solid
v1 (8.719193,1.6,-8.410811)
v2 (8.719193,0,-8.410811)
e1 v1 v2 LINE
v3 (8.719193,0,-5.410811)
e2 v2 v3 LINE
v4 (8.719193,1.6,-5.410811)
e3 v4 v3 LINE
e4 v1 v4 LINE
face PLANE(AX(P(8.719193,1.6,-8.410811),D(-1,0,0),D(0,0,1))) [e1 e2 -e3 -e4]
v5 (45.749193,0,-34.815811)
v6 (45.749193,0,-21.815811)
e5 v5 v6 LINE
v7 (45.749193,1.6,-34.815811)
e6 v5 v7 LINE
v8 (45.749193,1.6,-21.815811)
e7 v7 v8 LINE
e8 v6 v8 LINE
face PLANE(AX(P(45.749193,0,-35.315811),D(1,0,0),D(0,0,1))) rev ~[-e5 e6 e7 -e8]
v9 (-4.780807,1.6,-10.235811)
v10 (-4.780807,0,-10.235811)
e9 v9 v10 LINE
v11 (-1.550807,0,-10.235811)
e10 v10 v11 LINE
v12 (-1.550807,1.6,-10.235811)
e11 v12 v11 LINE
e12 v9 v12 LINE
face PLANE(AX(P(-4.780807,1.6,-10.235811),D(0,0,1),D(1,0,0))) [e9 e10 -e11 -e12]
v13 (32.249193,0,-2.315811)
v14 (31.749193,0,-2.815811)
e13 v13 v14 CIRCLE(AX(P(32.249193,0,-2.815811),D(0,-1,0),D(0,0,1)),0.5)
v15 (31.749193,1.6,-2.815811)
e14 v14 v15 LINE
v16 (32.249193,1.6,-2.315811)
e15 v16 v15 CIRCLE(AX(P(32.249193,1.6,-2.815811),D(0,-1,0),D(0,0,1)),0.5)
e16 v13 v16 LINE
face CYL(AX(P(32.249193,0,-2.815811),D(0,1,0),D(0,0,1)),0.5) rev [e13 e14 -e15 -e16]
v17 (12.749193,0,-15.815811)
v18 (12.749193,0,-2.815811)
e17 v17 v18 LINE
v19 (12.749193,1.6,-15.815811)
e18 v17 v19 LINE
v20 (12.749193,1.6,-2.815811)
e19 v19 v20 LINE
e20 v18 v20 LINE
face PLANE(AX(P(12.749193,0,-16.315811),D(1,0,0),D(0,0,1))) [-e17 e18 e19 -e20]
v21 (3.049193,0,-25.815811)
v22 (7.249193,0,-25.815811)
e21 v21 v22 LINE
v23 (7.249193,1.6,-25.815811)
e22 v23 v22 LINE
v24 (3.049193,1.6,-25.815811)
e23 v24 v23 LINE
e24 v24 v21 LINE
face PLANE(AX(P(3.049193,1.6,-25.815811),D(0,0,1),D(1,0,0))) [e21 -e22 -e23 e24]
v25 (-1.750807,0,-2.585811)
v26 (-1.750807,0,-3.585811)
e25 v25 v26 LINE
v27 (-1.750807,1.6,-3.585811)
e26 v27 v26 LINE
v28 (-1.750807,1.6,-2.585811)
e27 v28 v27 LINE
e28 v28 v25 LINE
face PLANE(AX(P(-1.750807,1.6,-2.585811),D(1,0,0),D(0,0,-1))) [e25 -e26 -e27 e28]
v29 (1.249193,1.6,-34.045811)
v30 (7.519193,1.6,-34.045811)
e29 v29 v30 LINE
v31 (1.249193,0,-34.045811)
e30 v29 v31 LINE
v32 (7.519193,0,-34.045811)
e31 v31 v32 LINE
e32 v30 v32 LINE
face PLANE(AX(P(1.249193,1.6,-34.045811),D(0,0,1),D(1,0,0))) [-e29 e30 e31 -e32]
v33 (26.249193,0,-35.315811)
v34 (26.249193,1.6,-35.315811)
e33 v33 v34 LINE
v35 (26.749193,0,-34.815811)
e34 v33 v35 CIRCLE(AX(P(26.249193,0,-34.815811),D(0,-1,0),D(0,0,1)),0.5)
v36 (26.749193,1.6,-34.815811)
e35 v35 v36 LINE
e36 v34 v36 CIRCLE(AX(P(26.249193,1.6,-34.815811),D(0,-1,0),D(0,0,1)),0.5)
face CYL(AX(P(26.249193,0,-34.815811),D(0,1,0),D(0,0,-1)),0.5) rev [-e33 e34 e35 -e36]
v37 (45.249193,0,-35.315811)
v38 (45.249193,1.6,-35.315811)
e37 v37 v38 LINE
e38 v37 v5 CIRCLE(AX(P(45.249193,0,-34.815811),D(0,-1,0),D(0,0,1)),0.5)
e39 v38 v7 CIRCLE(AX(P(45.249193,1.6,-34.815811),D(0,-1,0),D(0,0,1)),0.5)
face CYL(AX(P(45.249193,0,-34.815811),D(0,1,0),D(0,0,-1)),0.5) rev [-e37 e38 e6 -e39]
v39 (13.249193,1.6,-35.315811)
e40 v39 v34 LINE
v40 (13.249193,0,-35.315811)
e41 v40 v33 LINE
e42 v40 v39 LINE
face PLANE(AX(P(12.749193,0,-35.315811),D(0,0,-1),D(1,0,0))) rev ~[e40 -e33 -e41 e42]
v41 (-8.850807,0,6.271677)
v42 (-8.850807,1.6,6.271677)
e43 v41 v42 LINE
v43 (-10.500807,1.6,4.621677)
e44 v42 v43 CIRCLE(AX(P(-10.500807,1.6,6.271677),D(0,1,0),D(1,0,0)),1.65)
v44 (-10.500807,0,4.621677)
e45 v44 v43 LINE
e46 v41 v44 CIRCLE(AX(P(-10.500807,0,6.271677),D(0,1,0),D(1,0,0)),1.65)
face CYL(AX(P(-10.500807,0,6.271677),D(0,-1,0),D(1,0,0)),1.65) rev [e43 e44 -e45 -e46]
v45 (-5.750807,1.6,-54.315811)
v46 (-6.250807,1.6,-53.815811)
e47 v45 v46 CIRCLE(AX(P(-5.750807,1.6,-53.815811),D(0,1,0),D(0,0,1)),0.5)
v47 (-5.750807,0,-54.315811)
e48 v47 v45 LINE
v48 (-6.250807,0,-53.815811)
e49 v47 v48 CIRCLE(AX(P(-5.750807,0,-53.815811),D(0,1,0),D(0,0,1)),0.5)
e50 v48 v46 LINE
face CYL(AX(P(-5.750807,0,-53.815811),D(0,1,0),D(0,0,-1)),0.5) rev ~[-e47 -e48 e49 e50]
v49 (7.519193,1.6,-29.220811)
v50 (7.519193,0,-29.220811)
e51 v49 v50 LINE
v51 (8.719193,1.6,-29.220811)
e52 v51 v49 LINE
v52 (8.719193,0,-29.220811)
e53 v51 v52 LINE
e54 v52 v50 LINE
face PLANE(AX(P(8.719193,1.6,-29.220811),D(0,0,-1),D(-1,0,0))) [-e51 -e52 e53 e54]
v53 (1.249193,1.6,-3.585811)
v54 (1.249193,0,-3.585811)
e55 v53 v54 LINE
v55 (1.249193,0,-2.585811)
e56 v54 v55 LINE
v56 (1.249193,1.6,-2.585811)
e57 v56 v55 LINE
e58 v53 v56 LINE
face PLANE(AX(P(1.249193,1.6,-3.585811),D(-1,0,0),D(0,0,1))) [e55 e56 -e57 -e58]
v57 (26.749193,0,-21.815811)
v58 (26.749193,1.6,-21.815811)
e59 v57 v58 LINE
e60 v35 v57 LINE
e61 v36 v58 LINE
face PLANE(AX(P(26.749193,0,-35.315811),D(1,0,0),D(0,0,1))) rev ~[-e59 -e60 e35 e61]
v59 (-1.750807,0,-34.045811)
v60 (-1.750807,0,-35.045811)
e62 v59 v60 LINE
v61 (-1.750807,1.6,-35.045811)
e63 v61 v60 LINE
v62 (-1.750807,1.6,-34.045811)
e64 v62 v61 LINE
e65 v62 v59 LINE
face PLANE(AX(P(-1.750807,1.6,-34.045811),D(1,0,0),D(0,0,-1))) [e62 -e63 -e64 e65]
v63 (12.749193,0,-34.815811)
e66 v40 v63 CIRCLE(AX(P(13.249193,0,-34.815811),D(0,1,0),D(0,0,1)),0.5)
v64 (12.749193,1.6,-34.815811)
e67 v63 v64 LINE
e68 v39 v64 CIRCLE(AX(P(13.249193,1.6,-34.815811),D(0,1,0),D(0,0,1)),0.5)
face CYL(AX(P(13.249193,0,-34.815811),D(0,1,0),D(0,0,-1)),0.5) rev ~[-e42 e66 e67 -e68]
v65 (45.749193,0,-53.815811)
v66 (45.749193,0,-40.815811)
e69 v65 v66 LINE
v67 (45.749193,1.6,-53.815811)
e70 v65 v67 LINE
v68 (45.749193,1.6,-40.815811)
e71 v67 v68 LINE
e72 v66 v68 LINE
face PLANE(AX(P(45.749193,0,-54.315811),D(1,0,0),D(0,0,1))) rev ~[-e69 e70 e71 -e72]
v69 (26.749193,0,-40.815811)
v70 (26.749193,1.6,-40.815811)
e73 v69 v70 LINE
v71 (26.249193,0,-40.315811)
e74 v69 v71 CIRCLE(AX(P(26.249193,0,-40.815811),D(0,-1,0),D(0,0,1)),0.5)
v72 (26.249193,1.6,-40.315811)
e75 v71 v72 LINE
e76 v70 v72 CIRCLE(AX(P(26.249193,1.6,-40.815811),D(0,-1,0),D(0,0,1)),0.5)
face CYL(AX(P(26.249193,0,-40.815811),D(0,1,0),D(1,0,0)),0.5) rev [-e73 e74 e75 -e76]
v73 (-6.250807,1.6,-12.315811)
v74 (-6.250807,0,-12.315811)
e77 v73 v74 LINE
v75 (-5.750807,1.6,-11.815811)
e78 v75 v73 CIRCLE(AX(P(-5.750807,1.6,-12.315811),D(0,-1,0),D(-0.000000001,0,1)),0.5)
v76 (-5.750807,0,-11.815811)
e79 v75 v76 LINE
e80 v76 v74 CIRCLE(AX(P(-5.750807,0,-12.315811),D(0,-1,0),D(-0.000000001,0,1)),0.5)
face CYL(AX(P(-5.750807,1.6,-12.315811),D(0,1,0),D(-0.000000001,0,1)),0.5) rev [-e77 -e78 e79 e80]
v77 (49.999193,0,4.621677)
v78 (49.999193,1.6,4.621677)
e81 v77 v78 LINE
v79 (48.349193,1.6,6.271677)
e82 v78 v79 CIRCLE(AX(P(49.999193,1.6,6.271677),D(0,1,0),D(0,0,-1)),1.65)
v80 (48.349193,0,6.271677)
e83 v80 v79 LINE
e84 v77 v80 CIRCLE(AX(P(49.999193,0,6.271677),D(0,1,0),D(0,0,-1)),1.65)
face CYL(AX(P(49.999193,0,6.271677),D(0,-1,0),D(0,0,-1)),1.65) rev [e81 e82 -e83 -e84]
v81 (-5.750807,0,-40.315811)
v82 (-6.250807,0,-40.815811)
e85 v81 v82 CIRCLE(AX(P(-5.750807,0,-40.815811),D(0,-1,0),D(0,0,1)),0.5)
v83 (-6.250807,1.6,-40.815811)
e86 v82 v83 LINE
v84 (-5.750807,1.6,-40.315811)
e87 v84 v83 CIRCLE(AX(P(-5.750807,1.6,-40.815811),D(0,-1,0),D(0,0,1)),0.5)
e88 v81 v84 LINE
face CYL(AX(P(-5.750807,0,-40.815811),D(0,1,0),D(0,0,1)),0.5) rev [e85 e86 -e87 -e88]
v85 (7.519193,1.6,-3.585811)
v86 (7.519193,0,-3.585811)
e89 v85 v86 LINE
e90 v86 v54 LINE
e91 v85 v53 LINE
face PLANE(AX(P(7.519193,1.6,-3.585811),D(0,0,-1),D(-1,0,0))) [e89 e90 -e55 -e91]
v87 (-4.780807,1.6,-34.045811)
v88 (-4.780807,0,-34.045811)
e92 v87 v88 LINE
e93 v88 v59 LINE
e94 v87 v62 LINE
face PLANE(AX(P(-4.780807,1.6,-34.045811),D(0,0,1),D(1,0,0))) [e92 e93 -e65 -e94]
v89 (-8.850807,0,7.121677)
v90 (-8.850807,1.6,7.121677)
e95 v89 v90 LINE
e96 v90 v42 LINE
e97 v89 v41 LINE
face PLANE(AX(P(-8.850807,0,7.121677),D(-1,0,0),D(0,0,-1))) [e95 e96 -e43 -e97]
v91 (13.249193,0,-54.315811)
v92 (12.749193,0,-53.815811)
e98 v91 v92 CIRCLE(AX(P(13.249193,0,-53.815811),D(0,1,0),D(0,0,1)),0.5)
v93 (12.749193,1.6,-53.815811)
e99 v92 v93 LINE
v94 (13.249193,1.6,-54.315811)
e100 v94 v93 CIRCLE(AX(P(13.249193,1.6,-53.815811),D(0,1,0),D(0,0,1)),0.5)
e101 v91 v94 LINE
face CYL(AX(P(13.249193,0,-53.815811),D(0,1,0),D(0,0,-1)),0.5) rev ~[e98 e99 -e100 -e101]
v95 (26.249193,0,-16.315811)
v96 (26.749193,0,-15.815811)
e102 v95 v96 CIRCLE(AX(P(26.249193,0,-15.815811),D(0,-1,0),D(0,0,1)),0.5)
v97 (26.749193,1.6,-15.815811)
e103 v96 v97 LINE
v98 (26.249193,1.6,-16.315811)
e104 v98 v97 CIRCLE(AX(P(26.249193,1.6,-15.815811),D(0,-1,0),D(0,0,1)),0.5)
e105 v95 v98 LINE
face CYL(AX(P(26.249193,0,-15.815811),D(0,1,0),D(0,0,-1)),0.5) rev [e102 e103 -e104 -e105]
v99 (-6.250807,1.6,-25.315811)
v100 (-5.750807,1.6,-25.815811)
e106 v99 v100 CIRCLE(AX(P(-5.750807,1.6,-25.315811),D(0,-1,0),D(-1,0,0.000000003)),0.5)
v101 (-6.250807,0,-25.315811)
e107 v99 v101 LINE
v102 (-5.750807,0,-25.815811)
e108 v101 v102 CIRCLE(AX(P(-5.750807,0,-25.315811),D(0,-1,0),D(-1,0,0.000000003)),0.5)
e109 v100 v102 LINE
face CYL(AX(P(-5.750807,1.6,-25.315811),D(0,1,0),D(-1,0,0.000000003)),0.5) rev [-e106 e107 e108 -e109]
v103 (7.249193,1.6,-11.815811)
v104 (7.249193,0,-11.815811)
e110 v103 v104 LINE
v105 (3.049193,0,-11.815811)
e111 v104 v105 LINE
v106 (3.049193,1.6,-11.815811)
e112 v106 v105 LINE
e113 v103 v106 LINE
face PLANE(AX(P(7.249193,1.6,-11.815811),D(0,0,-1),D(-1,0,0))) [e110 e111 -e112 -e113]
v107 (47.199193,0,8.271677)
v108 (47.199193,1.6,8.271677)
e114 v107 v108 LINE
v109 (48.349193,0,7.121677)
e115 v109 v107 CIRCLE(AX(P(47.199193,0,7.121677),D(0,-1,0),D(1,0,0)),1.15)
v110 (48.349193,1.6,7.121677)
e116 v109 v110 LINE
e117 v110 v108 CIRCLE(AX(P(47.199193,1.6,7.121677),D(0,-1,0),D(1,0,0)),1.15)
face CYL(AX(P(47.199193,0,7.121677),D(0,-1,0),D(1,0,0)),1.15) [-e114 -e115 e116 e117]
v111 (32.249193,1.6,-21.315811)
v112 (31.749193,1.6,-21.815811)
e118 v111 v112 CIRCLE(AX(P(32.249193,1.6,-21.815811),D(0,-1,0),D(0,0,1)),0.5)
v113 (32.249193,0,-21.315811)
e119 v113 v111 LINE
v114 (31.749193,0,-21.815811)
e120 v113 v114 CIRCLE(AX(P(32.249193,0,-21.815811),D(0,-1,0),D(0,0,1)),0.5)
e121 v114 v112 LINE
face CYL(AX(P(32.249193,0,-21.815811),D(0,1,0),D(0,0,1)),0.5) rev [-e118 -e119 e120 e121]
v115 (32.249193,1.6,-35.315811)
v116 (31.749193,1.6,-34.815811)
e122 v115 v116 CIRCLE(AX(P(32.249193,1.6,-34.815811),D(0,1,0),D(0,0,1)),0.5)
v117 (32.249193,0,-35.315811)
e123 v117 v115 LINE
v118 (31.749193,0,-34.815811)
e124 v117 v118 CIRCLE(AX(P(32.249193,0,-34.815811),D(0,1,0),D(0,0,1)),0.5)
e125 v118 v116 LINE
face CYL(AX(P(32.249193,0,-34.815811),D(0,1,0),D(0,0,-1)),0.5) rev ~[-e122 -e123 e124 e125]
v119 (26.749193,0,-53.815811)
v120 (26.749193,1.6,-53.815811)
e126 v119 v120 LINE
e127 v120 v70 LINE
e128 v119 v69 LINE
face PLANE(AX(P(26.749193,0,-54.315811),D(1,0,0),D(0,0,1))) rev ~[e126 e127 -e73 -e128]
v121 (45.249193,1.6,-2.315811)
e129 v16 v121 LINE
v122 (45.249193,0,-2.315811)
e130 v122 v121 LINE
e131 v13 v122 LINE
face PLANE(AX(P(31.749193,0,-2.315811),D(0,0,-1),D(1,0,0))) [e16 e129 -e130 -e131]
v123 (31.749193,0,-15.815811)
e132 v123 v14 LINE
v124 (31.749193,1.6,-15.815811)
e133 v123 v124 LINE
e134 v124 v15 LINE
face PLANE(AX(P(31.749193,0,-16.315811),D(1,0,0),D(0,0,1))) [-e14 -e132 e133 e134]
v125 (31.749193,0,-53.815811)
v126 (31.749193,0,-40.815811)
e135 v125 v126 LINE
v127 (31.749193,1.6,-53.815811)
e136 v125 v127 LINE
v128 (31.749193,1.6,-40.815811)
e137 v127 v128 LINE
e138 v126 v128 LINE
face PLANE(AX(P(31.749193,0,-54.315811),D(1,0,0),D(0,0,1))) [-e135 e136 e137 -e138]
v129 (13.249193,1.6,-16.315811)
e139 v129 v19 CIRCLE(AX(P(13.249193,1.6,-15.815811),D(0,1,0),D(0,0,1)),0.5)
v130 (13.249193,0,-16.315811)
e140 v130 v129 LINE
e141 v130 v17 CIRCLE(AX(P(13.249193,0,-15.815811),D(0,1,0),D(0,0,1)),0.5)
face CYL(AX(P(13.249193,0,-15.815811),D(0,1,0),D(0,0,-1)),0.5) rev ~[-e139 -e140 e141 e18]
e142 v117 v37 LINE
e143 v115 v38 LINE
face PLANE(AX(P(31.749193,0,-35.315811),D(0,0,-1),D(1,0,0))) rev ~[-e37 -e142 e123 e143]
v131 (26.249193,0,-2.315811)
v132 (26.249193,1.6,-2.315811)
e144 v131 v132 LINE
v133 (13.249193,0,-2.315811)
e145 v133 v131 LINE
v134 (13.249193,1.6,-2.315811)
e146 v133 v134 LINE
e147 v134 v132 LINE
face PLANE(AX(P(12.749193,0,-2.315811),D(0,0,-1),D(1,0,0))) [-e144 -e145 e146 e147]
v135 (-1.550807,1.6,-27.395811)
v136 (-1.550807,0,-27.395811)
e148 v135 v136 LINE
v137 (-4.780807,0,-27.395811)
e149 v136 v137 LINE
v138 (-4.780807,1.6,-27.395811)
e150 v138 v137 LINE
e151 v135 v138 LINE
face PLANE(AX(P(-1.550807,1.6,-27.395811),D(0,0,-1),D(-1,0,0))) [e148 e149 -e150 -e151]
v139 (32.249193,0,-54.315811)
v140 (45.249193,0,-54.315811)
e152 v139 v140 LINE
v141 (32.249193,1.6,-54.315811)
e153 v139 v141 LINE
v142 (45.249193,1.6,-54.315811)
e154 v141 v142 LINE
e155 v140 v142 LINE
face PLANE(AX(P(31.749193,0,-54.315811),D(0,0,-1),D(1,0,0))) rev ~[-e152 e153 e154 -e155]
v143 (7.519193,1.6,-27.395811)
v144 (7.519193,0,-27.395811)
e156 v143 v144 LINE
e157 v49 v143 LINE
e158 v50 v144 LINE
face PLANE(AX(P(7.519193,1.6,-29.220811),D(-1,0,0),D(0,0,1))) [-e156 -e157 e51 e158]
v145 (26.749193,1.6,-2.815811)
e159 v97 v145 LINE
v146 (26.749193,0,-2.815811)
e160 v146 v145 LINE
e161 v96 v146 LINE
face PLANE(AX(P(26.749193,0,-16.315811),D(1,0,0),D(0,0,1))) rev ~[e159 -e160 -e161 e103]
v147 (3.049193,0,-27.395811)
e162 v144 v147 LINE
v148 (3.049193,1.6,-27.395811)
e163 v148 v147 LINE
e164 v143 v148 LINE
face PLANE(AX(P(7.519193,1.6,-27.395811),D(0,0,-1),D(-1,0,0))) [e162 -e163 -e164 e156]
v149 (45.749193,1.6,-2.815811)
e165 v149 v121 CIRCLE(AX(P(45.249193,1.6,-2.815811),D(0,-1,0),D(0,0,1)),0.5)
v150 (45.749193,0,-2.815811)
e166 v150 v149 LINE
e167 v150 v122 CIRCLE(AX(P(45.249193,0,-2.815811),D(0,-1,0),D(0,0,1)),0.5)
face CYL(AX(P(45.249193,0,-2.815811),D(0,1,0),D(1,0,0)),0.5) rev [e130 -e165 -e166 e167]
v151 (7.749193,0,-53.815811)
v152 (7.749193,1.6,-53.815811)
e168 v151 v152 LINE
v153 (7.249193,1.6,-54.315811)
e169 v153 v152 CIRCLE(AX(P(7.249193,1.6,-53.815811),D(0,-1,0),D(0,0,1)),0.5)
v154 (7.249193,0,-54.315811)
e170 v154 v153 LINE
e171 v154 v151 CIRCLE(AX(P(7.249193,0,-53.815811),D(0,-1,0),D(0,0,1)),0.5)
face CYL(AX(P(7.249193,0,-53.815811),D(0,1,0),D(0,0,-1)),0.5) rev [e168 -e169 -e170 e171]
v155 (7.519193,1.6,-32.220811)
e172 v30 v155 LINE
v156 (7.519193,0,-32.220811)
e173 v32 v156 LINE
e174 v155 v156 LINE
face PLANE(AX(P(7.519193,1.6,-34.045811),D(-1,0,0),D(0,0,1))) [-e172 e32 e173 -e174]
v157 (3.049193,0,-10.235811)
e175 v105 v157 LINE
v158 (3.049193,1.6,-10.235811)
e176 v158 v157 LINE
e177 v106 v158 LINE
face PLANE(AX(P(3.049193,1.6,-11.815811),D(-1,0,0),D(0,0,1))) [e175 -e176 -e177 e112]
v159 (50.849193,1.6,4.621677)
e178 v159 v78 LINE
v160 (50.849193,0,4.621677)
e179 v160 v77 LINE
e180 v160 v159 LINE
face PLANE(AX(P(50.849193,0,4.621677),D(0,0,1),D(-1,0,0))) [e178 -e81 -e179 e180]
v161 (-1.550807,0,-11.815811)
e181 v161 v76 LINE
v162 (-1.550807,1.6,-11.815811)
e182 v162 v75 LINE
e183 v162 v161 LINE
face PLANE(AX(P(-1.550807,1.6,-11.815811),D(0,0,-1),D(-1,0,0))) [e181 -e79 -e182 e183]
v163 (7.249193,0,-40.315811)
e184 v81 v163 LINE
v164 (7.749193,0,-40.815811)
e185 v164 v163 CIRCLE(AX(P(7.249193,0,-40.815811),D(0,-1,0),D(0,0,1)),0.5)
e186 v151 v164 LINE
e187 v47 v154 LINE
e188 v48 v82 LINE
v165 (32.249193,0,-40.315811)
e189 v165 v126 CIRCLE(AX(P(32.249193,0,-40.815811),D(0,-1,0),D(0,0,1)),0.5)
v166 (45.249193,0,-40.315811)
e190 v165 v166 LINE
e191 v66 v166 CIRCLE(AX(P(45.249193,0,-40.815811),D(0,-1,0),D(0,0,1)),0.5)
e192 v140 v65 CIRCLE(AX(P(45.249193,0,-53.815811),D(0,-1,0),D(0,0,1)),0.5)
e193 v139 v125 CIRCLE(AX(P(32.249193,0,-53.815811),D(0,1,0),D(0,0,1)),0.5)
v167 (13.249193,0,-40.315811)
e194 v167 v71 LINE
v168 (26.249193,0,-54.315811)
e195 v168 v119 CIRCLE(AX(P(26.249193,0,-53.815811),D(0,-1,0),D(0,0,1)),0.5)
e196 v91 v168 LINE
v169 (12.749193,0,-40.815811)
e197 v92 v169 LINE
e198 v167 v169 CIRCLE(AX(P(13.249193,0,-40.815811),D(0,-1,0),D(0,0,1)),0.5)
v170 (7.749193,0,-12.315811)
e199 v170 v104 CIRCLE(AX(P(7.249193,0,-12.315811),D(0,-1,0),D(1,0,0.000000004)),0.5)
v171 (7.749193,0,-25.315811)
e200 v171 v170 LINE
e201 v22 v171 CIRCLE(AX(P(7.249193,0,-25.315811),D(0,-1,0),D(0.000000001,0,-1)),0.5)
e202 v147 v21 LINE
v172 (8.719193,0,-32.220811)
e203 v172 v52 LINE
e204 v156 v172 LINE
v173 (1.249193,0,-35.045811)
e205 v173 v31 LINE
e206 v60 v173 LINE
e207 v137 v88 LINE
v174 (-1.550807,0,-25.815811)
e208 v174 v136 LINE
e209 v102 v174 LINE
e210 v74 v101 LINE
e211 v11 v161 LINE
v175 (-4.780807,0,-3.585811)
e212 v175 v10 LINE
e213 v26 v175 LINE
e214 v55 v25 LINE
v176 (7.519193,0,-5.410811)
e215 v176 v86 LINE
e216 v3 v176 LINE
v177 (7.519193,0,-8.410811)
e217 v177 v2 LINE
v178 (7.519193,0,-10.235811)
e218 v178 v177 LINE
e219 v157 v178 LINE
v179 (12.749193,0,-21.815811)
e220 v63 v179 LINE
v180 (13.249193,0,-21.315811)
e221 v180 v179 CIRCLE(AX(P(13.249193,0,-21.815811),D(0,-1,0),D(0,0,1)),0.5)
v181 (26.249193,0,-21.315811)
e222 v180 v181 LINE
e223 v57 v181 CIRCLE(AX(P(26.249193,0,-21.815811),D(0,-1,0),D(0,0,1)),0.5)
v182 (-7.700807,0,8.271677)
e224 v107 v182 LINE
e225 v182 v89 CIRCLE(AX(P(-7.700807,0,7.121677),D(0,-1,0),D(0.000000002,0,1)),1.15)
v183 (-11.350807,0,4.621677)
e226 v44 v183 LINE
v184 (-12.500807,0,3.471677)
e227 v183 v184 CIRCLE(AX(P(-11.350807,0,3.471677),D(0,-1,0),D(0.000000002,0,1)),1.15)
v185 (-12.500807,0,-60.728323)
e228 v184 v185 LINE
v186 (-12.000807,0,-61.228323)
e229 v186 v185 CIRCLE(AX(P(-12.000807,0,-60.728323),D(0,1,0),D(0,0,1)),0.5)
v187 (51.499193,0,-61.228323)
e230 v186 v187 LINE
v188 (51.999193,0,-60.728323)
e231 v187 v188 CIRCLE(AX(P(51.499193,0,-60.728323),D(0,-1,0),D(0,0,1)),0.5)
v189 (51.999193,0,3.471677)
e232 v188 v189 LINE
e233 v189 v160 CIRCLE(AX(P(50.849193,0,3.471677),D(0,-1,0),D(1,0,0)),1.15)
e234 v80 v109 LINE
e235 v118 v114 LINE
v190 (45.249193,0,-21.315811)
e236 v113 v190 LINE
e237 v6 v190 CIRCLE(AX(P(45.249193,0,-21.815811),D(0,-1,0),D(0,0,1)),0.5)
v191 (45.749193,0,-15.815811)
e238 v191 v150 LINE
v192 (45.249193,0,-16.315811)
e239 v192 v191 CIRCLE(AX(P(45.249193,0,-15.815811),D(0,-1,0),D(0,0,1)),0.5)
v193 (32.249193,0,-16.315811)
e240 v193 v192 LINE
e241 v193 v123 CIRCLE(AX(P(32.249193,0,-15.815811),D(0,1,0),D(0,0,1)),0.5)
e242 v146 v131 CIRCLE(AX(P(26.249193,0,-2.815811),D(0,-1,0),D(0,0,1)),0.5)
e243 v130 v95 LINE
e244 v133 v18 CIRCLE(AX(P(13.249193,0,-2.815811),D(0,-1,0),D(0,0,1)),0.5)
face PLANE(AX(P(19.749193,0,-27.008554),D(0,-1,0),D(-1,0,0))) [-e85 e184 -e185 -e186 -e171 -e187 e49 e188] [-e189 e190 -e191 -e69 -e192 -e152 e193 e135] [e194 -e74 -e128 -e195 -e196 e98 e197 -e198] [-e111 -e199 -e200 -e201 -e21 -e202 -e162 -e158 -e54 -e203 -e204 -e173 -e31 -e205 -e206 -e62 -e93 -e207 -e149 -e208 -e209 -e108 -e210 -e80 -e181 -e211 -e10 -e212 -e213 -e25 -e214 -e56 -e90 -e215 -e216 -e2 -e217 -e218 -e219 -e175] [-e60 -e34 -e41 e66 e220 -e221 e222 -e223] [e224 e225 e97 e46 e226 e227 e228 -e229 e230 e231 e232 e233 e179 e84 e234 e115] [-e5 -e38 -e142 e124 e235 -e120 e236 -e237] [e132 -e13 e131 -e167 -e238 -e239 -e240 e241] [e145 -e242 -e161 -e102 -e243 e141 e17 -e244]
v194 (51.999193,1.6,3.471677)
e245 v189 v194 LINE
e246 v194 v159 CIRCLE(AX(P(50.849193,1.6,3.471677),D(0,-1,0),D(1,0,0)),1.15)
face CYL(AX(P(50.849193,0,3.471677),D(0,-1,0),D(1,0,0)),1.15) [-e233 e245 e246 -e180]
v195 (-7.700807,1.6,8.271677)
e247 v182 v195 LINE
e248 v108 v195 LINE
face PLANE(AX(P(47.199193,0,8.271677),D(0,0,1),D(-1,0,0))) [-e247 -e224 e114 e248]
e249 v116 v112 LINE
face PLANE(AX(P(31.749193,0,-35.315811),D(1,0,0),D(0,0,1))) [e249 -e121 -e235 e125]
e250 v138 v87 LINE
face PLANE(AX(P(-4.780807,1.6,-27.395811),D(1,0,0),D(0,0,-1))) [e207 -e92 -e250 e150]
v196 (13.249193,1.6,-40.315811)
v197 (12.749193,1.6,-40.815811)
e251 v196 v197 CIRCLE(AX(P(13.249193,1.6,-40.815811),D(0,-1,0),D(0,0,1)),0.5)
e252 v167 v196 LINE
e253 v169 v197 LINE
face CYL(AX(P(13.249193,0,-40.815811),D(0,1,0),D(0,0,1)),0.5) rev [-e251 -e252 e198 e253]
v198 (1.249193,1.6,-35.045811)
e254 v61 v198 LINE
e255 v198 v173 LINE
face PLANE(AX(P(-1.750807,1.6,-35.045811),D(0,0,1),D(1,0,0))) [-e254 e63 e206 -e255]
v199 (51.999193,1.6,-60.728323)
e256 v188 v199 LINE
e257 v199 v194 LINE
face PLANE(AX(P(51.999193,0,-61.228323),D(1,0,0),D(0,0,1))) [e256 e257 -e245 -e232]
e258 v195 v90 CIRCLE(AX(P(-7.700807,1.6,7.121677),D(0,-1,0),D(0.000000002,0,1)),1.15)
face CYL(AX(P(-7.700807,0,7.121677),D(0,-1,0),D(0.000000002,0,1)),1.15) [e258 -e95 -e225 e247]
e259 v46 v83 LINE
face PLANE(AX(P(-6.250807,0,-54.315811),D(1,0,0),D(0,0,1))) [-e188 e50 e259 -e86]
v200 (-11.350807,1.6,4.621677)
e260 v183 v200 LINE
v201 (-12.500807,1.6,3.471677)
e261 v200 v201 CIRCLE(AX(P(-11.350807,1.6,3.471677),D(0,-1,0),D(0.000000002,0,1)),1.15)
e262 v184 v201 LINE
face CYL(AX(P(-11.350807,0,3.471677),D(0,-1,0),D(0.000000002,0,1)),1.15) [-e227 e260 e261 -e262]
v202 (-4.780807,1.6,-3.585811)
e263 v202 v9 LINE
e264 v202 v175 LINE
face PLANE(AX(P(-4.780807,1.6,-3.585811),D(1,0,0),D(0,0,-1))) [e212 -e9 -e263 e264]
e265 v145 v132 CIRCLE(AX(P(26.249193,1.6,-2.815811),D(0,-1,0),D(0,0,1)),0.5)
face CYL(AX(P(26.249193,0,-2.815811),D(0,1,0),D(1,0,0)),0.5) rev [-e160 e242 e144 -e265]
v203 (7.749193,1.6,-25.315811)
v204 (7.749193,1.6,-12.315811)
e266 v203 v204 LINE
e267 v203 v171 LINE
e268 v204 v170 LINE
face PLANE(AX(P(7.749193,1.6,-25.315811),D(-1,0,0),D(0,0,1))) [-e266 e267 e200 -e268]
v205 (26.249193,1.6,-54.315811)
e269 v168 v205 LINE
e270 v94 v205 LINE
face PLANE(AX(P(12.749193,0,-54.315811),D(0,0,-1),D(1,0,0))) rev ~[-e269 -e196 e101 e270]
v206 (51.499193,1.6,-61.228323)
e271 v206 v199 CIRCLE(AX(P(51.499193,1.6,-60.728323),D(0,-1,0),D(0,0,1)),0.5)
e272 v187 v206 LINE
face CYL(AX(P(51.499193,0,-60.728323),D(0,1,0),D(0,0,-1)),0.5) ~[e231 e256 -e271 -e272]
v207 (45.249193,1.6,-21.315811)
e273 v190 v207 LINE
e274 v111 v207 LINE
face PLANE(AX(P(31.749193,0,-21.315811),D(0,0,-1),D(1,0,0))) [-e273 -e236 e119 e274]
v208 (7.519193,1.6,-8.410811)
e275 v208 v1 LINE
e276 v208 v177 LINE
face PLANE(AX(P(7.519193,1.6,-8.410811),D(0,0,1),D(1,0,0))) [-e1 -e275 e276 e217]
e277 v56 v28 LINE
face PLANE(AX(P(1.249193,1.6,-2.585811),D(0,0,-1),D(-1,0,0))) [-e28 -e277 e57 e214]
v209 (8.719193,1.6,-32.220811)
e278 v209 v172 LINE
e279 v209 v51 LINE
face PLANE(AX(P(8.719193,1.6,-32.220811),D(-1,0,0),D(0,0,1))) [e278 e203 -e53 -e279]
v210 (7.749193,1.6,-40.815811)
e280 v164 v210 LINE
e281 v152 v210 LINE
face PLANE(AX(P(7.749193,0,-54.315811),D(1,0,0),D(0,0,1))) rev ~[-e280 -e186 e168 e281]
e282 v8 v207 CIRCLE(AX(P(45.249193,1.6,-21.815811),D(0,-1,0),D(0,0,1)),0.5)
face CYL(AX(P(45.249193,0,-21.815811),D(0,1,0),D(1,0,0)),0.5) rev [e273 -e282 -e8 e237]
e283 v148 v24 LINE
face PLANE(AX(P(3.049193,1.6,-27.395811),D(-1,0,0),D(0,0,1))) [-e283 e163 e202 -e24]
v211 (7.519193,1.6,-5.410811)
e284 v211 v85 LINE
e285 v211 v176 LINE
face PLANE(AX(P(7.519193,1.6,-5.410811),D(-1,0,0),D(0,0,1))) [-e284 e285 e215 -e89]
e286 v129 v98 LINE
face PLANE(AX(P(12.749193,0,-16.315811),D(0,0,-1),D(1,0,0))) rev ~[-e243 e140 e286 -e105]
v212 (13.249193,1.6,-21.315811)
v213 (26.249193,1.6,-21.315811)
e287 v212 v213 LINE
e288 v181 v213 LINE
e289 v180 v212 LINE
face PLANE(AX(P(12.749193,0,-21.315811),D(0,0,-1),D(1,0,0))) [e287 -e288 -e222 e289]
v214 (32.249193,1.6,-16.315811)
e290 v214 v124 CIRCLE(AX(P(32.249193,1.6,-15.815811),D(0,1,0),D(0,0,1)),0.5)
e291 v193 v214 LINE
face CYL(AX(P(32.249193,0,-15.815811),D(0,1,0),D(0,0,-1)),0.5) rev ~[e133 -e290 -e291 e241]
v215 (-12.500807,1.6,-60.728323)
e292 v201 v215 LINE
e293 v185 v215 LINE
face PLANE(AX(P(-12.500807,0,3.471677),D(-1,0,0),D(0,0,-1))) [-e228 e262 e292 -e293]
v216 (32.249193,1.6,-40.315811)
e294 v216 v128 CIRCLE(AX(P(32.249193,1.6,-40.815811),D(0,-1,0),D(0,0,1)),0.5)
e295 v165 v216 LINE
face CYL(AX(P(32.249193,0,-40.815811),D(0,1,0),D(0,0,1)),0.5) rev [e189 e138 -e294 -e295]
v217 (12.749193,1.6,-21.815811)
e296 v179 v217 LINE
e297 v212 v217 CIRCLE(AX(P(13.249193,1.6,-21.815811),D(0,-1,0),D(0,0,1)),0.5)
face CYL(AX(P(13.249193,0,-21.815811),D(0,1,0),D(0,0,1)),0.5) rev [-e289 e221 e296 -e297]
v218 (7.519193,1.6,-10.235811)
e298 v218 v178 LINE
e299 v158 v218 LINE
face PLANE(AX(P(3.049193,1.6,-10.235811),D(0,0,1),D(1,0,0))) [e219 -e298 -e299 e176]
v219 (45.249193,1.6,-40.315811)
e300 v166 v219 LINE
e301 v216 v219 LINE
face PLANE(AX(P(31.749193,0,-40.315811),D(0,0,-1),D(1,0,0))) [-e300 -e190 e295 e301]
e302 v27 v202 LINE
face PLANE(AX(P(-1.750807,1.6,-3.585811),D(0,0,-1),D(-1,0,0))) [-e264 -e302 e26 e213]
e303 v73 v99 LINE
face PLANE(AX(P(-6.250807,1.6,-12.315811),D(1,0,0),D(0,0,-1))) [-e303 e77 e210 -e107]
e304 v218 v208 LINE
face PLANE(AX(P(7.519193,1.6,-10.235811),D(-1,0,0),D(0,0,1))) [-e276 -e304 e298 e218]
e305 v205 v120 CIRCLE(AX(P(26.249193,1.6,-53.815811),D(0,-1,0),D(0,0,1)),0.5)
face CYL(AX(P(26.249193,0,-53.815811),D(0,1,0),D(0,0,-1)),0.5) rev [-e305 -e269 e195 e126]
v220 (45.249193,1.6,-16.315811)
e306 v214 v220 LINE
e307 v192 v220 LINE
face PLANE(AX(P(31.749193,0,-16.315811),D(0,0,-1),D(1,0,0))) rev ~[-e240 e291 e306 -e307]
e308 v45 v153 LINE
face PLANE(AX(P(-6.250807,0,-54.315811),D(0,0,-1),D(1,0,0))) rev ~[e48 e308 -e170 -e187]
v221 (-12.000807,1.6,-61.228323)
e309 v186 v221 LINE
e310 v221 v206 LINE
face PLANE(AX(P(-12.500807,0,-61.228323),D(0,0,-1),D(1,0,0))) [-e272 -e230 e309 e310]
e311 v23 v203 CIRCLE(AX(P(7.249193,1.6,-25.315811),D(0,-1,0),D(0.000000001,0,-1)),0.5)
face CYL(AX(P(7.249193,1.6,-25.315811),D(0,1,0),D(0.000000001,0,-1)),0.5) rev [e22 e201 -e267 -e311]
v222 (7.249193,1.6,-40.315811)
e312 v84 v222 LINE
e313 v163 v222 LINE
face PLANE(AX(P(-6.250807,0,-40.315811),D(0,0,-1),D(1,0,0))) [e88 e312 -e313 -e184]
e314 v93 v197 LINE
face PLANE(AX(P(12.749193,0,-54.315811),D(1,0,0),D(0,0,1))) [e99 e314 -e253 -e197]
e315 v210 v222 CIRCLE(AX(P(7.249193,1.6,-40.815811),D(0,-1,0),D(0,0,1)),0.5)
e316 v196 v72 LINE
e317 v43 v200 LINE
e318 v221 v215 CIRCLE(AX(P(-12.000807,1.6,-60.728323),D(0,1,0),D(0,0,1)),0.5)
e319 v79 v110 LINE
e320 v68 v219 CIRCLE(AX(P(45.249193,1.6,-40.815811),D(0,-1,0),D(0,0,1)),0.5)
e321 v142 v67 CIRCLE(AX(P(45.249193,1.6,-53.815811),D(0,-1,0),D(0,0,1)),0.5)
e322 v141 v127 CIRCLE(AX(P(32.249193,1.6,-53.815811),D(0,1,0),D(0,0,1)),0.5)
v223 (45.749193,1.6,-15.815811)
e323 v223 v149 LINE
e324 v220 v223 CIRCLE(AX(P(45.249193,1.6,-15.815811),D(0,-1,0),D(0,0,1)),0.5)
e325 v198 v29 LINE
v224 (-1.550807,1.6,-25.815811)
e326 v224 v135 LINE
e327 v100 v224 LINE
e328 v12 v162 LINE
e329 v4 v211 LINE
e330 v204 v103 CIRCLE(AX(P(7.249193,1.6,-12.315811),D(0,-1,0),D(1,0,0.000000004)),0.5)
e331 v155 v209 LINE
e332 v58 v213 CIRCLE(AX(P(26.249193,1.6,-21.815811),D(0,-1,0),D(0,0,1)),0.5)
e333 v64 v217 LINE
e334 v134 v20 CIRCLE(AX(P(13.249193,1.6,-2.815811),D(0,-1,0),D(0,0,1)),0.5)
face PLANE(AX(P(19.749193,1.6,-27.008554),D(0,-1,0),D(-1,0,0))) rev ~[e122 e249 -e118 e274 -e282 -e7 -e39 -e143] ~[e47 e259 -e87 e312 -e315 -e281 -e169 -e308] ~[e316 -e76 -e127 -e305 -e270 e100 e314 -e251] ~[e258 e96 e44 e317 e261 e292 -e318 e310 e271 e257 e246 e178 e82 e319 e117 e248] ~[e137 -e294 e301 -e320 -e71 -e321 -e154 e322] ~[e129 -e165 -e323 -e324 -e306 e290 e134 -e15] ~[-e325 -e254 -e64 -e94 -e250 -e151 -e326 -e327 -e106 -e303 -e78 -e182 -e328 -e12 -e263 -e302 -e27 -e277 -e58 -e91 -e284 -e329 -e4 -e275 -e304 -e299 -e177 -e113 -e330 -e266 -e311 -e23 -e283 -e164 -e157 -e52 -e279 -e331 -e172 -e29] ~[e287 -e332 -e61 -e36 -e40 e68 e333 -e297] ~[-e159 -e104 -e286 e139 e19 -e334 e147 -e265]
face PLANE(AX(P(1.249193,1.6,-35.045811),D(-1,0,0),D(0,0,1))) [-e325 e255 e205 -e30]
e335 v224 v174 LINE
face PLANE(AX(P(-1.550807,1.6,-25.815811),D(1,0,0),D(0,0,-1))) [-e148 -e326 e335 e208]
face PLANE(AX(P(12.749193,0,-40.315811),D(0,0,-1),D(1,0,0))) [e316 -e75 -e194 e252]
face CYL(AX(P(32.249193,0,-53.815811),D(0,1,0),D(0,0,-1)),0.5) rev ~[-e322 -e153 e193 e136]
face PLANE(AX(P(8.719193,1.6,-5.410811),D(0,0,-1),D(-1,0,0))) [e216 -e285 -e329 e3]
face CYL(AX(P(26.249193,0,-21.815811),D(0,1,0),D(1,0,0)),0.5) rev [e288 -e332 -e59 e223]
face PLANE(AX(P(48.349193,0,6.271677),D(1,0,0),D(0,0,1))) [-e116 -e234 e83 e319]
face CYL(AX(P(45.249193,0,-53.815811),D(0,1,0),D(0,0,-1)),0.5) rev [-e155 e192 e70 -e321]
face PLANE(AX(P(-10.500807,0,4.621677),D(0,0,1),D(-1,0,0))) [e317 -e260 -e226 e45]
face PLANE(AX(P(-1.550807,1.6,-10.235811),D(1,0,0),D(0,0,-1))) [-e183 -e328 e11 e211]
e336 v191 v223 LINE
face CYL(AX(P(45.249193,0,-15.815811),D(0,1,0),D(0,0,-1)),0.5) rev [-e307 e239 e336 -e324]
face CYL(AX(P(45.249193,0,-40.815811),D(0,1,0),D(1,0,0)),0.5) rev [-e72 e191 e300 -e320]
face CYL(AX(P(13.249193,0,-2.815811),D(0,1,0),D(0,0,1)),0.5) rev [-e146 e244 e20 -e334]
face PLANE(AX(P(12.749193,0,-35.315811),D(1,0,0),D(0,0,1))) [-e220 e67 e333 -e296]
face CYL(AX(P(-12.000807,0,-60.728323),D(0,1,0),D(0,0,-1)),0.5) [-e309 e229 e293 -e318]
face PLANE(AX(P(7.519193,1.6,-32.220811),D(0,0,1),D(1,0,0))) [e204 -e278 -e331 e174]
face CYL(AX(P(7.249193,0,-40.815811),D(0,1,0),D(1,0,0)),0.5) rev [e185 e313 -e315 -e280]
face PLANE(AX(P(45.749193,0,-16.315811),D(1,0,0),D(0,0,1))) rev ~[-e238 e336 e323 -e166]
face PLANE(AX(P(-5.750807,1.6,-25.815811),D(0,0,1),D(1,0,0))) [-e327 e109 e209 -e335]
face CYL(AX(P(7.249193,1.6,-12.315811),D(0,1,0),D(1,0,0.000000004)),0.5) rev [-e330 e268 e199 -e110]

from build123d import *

# Parameters (mm, degrees)
EXTRUDE_1_DEPTH                = 1.6
SKETCH_2_W                     = 14
SKETCH_2_H                     = 14
CUT_EXTRUDE_1_DEPTH            = 1.6
FILLET_1_R                     = 0.5
PATTERN_LINEAR_2_COUNT         = 3
PATTERN_LINEAR_2_PITCH         = 19
PATTERN_LINEAR_2_COUNT_DIR2    = 3
PATTERN_LINEAR_2_PITCH_DIR2    = 19
FILLET_1_OF_PATTERN_LINEAR_2_R = 0.5
CUT_EXTRUDE_3_DEPTH            = 1.6
FILLET_2_R                     = 0.5


with BuildPart() as part:
    # 草图1 → 凸台-拉伸1 (new body)
    with BuildSketch(Plane(origin=(0, 0, 0), x_dir=(1, 0, 0), z_dir=(0, 1, 0))):
        with BuildLine():
            Line((-12.500806884, 61.22832279), (51.999193116, 61.22832279))
            Line((51.999193116, 61.22832279), (51.999193116, -3.47167721))
            ThreePointArc((51.999193116, -3.47167721), (51.662365914, -4.284850009), (50.849193116, -4.62167721))
            Line((50.849193116, -4.62167721), (49.999193116, -4.62167721))
            ThreePointArc((49.999193116, -4.62167721), (48.832466927, -5.104951021), (48.349193116, -6.27167721))
            Line((48.349193116, -6.27167721), (48.349193116, -7.12167721))
            ThreePointArc((48.349193116, -7.12167721), (48.012365914, -7.934850009), (47.199193116, -8.27167721))
            Line((47.199193116, -8.27167721), (-7.700806884, -8.27167721))
            ThreePointArc((-7.700806884, -8.27167721), (-8.513979683, -7.934850009), (-8.850806884, -7.12167721))
            Line((-8.850806884, -7.12167721), (-8.850806884, -6.27167721))
            ThreePointArc((-8.850806884, -6.27167721), (-9.334080695, -5.104951021), (-10.500806884, -4.62167721))
            Line((-10.500806884, -4.62167721), (-11.350806884, -4.62167721))
            ThreePointArc((-11.350806884, -4.62167721), (-12.163979683, -4.284850009), (-12.500806884, -3.47167721))
            Line((-12.500806884, -3.47167721), (-12.500806884, 61.22832279))
        make_face()
    extrude(amount=EXTRUDE_1_DEPTH)

    # 草图2 → 切除-拉伸1 (cut)
    with BuildSketch(Plane.XZ):
        with Locations((38.749193116, -9.315811453)):
            Rectangle(SKETCH_2_W, SKETCH_2_H)
    cut_extrude_1 = extrude(amount=-CUT_EXTRUDE_1_DEPTH, mode=Mode.SUBTRACT)

    # 圆角1
    fillet_1_edges = [part.edges().sort_by_distance(p)[0] for p in [
        (31.749193116, 0.8, -16.315811453),
        (31.749193116, 0.8, -2.315811453),
        (45.749193116, 0.8, -2.315811453),
        (45.749193116, 0.8, -16.315811453),
    ]]
    fillet(fillet_1_edges, radius=FILLET_1_R)

    # 阵列(线性)2: Cut-Extrude 1 3 × 3, 2 skipped
    with Locations(*[(-j * PATTERN_LINEAR_2_PITCH_DIR2, 0, -i * PATTERN_LINEAR_2_PITCH) for i in range(PATTERN_LINEAR_2_COUNT) for j in range(PATTERN_LINEAR_2_COUNT_DIR2) if (i, j) not in ((0, 0), (0, 2), (1, 2))]):
        add(cut_extrude_1, mode=Mode.SUBTRACT)

    # 圆角1 of 阵列(线性)2
    fillet_1_of_pattern_linear_2_edges = [part.edges().sort_by_distance(p)[0] for p in [
        (12.749193116, 0.8, -16.315811453),
        (12.749193116, 0.8, -2.315811453),
        (26.749193116, 0.8, -2.315811453),
        (26.749193116, 0.8, -16.315811453),
        (31.749193116, 0.8, -35.315811453),
        (31.749193116, 0.8, -21.315811453),
        (45.749193116, 0.8, -21.315811453),
        (45.749193116, 0.8, -35.315811453),
        (12.749193116, 0.8, -35.315811453),
        (12.749193116, 0.8, -21.315811453),
        (26.749193116, 0.8, -21.315811453),
        (26.749193116, 0.8, -35.315811453),
        (31.749193116, 0.8, -54.315811453),
        (31.749193116, 0.8, -40.315811453),
        (45.749193116, 0.8, -40.315811453),
        (45.749193116, 0.8, -54.315811453),
        (12.749193116, 0.8, -54.315811453),
        (12.749193116, 0.8, -40.315811453),
        (26.749193116, 0.8, -40.315811453),
        (26.749193116, 0.8, -54.315811453),
        (-6.250806884, 0.8, -54.315811453),
        (-6.250806884, 0.8, -40.315811453),
        (7.749193116, 0.8, -40.315811453),
        (7.749193116, 0.8, -54.315811453),
    ]]
    fillet(fillet_1_of_pattern_linear_2_edges, radius=FILLET_1_OF_PATTERN_LINEAR_2_R)

    # 草图3 → 切除-拉伸3 (cut)
    with BuildSketch(Plane(origin=(0, 1.6, 0), x_dir=(1, 0, 0), z_dir=(0, 1, 0))):
        with BuildLine():
            Line((-6.250806884, 12.315811453), (-6.250806884, 25.315811453))
            ThreePointArc((-6.250806884, 25.315811453), (-6.104360275, 25.669364844), (-5.750806884, 25.815811453))
            Line((-5.750806884, 25.815811453), (-1.550806884, 25.815811453))
            Line((-1.550806884, 25.815811453), (-1.550806884, 27.395811453))
            Line((-1.550806884, 27.395811453), (-4.780806884, 27.395811453))
            Line((-4.780806884, 27.395811453), (-4.780806884, 34.045811453))
            Line((-4.780806884, 34.045811453), (-1.750806884, 34.045811453))
            Line((-1.750806884, 34.045811453), (-1.750806884, 35.045811453))
            Line((-1.750806884, 35.045811453), (1.249193116, 35.045811453))
            Line((1.249193116, 35.045811453), (1.249193116, 34.045811453))
            Line((1.249193116, 34.045811453), (7.519193116, 34.045811453))
            Line((7.519193116, 34.045811453), (7.519193116, 32.220811453))
            Line((7.519193116, 32.220811453), (8.719193116, 32.220811453))
            Line((8.719193116, 32.220811453), (8.719193116, 29.220811453))
            Line((8.719193116, 29.220811453), (7.519193116, 29.220811453))
            Line((7.519193116, 29.220811453), (7.519193116, 27.395811453))
            Line((7.519193116, 27.395811453), (3.049193116, 27.395811453))
            Line((3.049193116, 27.395811453), (3.049193116, 25.815811453))
            Line((3.049193116, 25.815811453), (7.249193116, 25.815811453))
            ThreePointArc((7.249193116, 25.815811453), (7.602746506, 25.669364844), (7.749193116, 25.315811453))
            Line((7.749193116, 25.315811453), (7.749193116, 12.315811453))
            ThreePointArc((7.749193116, 12.315811453), (7.602746506, 11.962258063), (7.249193116, 11.815811453))
            Line((7.249193116, 11.815811453), (3.049193116, 11.815811453))
            Line((3.049193116, 11.815811453), (3.049193116, 10.235811453))
            Line((3.049193116, 10.235811453), (7.519193116, 10.235811453))
            Line((7.519193116, 10.235811453), (7.519193116, 8.410811453))
            Line((7.519193116, 8.410811453), (8.719193116, 8.410811453))
            Line((8.719193116, 8.410811453), (8.719193116, 5.410811453))
            Line((8.719193116, 5.410811453), (7.519193116, 5.410811453))
            Line((7.519193116, 5.410811453), (7.519193116, 3.585811453))
            Line((7.519193116, 3.585811453), (1.249193116, 3.585811453))
            Line((1.249193116, 3.585811453), (1.249193116, 2.585811453))
            Line((1.249193116, 2.585811453), (-1.750806884, 2.585811453))
            Line((-1.750806884, 2.585811453), (-1.750806884, 3.585811453))
            Line((-1.750806884, 3.585811453), (-4.780806884, 3.585811453))
            Line((-4.780806884, 3.585811453), (-4.780806884, 10.235811453))
            Line((-4.780806884, 10.235811453), (-1.550806884, 10.235811453))
            Line((-1.550806884, 10.235811453), (-1.550806884, 11.815811453))
            Line((-1.550806884, 11.815811453), (-5.750806884, 11.815811453))
            ThreePointArc((-5.750806884, 11.815811453), (-6.104360275, 11.962258063), (-6.250806884, 12.315811453))
        make_face()
    extrude(amount=-CUT_EXTRUDE_3_DEPTH, mode=Mode.SUBTRACT)

    # 圆角2
    fillet_2_edges = [part.edges().sort_by_distance(p)[0] for p in [
        (-12.500806884, 0.8, -61.22832279),
        (51.999193116, 0.8, -61.22832279),
    ]]
    fillet(fillet_2_edges, radius=FILLET_2_R)


solid = part.part
